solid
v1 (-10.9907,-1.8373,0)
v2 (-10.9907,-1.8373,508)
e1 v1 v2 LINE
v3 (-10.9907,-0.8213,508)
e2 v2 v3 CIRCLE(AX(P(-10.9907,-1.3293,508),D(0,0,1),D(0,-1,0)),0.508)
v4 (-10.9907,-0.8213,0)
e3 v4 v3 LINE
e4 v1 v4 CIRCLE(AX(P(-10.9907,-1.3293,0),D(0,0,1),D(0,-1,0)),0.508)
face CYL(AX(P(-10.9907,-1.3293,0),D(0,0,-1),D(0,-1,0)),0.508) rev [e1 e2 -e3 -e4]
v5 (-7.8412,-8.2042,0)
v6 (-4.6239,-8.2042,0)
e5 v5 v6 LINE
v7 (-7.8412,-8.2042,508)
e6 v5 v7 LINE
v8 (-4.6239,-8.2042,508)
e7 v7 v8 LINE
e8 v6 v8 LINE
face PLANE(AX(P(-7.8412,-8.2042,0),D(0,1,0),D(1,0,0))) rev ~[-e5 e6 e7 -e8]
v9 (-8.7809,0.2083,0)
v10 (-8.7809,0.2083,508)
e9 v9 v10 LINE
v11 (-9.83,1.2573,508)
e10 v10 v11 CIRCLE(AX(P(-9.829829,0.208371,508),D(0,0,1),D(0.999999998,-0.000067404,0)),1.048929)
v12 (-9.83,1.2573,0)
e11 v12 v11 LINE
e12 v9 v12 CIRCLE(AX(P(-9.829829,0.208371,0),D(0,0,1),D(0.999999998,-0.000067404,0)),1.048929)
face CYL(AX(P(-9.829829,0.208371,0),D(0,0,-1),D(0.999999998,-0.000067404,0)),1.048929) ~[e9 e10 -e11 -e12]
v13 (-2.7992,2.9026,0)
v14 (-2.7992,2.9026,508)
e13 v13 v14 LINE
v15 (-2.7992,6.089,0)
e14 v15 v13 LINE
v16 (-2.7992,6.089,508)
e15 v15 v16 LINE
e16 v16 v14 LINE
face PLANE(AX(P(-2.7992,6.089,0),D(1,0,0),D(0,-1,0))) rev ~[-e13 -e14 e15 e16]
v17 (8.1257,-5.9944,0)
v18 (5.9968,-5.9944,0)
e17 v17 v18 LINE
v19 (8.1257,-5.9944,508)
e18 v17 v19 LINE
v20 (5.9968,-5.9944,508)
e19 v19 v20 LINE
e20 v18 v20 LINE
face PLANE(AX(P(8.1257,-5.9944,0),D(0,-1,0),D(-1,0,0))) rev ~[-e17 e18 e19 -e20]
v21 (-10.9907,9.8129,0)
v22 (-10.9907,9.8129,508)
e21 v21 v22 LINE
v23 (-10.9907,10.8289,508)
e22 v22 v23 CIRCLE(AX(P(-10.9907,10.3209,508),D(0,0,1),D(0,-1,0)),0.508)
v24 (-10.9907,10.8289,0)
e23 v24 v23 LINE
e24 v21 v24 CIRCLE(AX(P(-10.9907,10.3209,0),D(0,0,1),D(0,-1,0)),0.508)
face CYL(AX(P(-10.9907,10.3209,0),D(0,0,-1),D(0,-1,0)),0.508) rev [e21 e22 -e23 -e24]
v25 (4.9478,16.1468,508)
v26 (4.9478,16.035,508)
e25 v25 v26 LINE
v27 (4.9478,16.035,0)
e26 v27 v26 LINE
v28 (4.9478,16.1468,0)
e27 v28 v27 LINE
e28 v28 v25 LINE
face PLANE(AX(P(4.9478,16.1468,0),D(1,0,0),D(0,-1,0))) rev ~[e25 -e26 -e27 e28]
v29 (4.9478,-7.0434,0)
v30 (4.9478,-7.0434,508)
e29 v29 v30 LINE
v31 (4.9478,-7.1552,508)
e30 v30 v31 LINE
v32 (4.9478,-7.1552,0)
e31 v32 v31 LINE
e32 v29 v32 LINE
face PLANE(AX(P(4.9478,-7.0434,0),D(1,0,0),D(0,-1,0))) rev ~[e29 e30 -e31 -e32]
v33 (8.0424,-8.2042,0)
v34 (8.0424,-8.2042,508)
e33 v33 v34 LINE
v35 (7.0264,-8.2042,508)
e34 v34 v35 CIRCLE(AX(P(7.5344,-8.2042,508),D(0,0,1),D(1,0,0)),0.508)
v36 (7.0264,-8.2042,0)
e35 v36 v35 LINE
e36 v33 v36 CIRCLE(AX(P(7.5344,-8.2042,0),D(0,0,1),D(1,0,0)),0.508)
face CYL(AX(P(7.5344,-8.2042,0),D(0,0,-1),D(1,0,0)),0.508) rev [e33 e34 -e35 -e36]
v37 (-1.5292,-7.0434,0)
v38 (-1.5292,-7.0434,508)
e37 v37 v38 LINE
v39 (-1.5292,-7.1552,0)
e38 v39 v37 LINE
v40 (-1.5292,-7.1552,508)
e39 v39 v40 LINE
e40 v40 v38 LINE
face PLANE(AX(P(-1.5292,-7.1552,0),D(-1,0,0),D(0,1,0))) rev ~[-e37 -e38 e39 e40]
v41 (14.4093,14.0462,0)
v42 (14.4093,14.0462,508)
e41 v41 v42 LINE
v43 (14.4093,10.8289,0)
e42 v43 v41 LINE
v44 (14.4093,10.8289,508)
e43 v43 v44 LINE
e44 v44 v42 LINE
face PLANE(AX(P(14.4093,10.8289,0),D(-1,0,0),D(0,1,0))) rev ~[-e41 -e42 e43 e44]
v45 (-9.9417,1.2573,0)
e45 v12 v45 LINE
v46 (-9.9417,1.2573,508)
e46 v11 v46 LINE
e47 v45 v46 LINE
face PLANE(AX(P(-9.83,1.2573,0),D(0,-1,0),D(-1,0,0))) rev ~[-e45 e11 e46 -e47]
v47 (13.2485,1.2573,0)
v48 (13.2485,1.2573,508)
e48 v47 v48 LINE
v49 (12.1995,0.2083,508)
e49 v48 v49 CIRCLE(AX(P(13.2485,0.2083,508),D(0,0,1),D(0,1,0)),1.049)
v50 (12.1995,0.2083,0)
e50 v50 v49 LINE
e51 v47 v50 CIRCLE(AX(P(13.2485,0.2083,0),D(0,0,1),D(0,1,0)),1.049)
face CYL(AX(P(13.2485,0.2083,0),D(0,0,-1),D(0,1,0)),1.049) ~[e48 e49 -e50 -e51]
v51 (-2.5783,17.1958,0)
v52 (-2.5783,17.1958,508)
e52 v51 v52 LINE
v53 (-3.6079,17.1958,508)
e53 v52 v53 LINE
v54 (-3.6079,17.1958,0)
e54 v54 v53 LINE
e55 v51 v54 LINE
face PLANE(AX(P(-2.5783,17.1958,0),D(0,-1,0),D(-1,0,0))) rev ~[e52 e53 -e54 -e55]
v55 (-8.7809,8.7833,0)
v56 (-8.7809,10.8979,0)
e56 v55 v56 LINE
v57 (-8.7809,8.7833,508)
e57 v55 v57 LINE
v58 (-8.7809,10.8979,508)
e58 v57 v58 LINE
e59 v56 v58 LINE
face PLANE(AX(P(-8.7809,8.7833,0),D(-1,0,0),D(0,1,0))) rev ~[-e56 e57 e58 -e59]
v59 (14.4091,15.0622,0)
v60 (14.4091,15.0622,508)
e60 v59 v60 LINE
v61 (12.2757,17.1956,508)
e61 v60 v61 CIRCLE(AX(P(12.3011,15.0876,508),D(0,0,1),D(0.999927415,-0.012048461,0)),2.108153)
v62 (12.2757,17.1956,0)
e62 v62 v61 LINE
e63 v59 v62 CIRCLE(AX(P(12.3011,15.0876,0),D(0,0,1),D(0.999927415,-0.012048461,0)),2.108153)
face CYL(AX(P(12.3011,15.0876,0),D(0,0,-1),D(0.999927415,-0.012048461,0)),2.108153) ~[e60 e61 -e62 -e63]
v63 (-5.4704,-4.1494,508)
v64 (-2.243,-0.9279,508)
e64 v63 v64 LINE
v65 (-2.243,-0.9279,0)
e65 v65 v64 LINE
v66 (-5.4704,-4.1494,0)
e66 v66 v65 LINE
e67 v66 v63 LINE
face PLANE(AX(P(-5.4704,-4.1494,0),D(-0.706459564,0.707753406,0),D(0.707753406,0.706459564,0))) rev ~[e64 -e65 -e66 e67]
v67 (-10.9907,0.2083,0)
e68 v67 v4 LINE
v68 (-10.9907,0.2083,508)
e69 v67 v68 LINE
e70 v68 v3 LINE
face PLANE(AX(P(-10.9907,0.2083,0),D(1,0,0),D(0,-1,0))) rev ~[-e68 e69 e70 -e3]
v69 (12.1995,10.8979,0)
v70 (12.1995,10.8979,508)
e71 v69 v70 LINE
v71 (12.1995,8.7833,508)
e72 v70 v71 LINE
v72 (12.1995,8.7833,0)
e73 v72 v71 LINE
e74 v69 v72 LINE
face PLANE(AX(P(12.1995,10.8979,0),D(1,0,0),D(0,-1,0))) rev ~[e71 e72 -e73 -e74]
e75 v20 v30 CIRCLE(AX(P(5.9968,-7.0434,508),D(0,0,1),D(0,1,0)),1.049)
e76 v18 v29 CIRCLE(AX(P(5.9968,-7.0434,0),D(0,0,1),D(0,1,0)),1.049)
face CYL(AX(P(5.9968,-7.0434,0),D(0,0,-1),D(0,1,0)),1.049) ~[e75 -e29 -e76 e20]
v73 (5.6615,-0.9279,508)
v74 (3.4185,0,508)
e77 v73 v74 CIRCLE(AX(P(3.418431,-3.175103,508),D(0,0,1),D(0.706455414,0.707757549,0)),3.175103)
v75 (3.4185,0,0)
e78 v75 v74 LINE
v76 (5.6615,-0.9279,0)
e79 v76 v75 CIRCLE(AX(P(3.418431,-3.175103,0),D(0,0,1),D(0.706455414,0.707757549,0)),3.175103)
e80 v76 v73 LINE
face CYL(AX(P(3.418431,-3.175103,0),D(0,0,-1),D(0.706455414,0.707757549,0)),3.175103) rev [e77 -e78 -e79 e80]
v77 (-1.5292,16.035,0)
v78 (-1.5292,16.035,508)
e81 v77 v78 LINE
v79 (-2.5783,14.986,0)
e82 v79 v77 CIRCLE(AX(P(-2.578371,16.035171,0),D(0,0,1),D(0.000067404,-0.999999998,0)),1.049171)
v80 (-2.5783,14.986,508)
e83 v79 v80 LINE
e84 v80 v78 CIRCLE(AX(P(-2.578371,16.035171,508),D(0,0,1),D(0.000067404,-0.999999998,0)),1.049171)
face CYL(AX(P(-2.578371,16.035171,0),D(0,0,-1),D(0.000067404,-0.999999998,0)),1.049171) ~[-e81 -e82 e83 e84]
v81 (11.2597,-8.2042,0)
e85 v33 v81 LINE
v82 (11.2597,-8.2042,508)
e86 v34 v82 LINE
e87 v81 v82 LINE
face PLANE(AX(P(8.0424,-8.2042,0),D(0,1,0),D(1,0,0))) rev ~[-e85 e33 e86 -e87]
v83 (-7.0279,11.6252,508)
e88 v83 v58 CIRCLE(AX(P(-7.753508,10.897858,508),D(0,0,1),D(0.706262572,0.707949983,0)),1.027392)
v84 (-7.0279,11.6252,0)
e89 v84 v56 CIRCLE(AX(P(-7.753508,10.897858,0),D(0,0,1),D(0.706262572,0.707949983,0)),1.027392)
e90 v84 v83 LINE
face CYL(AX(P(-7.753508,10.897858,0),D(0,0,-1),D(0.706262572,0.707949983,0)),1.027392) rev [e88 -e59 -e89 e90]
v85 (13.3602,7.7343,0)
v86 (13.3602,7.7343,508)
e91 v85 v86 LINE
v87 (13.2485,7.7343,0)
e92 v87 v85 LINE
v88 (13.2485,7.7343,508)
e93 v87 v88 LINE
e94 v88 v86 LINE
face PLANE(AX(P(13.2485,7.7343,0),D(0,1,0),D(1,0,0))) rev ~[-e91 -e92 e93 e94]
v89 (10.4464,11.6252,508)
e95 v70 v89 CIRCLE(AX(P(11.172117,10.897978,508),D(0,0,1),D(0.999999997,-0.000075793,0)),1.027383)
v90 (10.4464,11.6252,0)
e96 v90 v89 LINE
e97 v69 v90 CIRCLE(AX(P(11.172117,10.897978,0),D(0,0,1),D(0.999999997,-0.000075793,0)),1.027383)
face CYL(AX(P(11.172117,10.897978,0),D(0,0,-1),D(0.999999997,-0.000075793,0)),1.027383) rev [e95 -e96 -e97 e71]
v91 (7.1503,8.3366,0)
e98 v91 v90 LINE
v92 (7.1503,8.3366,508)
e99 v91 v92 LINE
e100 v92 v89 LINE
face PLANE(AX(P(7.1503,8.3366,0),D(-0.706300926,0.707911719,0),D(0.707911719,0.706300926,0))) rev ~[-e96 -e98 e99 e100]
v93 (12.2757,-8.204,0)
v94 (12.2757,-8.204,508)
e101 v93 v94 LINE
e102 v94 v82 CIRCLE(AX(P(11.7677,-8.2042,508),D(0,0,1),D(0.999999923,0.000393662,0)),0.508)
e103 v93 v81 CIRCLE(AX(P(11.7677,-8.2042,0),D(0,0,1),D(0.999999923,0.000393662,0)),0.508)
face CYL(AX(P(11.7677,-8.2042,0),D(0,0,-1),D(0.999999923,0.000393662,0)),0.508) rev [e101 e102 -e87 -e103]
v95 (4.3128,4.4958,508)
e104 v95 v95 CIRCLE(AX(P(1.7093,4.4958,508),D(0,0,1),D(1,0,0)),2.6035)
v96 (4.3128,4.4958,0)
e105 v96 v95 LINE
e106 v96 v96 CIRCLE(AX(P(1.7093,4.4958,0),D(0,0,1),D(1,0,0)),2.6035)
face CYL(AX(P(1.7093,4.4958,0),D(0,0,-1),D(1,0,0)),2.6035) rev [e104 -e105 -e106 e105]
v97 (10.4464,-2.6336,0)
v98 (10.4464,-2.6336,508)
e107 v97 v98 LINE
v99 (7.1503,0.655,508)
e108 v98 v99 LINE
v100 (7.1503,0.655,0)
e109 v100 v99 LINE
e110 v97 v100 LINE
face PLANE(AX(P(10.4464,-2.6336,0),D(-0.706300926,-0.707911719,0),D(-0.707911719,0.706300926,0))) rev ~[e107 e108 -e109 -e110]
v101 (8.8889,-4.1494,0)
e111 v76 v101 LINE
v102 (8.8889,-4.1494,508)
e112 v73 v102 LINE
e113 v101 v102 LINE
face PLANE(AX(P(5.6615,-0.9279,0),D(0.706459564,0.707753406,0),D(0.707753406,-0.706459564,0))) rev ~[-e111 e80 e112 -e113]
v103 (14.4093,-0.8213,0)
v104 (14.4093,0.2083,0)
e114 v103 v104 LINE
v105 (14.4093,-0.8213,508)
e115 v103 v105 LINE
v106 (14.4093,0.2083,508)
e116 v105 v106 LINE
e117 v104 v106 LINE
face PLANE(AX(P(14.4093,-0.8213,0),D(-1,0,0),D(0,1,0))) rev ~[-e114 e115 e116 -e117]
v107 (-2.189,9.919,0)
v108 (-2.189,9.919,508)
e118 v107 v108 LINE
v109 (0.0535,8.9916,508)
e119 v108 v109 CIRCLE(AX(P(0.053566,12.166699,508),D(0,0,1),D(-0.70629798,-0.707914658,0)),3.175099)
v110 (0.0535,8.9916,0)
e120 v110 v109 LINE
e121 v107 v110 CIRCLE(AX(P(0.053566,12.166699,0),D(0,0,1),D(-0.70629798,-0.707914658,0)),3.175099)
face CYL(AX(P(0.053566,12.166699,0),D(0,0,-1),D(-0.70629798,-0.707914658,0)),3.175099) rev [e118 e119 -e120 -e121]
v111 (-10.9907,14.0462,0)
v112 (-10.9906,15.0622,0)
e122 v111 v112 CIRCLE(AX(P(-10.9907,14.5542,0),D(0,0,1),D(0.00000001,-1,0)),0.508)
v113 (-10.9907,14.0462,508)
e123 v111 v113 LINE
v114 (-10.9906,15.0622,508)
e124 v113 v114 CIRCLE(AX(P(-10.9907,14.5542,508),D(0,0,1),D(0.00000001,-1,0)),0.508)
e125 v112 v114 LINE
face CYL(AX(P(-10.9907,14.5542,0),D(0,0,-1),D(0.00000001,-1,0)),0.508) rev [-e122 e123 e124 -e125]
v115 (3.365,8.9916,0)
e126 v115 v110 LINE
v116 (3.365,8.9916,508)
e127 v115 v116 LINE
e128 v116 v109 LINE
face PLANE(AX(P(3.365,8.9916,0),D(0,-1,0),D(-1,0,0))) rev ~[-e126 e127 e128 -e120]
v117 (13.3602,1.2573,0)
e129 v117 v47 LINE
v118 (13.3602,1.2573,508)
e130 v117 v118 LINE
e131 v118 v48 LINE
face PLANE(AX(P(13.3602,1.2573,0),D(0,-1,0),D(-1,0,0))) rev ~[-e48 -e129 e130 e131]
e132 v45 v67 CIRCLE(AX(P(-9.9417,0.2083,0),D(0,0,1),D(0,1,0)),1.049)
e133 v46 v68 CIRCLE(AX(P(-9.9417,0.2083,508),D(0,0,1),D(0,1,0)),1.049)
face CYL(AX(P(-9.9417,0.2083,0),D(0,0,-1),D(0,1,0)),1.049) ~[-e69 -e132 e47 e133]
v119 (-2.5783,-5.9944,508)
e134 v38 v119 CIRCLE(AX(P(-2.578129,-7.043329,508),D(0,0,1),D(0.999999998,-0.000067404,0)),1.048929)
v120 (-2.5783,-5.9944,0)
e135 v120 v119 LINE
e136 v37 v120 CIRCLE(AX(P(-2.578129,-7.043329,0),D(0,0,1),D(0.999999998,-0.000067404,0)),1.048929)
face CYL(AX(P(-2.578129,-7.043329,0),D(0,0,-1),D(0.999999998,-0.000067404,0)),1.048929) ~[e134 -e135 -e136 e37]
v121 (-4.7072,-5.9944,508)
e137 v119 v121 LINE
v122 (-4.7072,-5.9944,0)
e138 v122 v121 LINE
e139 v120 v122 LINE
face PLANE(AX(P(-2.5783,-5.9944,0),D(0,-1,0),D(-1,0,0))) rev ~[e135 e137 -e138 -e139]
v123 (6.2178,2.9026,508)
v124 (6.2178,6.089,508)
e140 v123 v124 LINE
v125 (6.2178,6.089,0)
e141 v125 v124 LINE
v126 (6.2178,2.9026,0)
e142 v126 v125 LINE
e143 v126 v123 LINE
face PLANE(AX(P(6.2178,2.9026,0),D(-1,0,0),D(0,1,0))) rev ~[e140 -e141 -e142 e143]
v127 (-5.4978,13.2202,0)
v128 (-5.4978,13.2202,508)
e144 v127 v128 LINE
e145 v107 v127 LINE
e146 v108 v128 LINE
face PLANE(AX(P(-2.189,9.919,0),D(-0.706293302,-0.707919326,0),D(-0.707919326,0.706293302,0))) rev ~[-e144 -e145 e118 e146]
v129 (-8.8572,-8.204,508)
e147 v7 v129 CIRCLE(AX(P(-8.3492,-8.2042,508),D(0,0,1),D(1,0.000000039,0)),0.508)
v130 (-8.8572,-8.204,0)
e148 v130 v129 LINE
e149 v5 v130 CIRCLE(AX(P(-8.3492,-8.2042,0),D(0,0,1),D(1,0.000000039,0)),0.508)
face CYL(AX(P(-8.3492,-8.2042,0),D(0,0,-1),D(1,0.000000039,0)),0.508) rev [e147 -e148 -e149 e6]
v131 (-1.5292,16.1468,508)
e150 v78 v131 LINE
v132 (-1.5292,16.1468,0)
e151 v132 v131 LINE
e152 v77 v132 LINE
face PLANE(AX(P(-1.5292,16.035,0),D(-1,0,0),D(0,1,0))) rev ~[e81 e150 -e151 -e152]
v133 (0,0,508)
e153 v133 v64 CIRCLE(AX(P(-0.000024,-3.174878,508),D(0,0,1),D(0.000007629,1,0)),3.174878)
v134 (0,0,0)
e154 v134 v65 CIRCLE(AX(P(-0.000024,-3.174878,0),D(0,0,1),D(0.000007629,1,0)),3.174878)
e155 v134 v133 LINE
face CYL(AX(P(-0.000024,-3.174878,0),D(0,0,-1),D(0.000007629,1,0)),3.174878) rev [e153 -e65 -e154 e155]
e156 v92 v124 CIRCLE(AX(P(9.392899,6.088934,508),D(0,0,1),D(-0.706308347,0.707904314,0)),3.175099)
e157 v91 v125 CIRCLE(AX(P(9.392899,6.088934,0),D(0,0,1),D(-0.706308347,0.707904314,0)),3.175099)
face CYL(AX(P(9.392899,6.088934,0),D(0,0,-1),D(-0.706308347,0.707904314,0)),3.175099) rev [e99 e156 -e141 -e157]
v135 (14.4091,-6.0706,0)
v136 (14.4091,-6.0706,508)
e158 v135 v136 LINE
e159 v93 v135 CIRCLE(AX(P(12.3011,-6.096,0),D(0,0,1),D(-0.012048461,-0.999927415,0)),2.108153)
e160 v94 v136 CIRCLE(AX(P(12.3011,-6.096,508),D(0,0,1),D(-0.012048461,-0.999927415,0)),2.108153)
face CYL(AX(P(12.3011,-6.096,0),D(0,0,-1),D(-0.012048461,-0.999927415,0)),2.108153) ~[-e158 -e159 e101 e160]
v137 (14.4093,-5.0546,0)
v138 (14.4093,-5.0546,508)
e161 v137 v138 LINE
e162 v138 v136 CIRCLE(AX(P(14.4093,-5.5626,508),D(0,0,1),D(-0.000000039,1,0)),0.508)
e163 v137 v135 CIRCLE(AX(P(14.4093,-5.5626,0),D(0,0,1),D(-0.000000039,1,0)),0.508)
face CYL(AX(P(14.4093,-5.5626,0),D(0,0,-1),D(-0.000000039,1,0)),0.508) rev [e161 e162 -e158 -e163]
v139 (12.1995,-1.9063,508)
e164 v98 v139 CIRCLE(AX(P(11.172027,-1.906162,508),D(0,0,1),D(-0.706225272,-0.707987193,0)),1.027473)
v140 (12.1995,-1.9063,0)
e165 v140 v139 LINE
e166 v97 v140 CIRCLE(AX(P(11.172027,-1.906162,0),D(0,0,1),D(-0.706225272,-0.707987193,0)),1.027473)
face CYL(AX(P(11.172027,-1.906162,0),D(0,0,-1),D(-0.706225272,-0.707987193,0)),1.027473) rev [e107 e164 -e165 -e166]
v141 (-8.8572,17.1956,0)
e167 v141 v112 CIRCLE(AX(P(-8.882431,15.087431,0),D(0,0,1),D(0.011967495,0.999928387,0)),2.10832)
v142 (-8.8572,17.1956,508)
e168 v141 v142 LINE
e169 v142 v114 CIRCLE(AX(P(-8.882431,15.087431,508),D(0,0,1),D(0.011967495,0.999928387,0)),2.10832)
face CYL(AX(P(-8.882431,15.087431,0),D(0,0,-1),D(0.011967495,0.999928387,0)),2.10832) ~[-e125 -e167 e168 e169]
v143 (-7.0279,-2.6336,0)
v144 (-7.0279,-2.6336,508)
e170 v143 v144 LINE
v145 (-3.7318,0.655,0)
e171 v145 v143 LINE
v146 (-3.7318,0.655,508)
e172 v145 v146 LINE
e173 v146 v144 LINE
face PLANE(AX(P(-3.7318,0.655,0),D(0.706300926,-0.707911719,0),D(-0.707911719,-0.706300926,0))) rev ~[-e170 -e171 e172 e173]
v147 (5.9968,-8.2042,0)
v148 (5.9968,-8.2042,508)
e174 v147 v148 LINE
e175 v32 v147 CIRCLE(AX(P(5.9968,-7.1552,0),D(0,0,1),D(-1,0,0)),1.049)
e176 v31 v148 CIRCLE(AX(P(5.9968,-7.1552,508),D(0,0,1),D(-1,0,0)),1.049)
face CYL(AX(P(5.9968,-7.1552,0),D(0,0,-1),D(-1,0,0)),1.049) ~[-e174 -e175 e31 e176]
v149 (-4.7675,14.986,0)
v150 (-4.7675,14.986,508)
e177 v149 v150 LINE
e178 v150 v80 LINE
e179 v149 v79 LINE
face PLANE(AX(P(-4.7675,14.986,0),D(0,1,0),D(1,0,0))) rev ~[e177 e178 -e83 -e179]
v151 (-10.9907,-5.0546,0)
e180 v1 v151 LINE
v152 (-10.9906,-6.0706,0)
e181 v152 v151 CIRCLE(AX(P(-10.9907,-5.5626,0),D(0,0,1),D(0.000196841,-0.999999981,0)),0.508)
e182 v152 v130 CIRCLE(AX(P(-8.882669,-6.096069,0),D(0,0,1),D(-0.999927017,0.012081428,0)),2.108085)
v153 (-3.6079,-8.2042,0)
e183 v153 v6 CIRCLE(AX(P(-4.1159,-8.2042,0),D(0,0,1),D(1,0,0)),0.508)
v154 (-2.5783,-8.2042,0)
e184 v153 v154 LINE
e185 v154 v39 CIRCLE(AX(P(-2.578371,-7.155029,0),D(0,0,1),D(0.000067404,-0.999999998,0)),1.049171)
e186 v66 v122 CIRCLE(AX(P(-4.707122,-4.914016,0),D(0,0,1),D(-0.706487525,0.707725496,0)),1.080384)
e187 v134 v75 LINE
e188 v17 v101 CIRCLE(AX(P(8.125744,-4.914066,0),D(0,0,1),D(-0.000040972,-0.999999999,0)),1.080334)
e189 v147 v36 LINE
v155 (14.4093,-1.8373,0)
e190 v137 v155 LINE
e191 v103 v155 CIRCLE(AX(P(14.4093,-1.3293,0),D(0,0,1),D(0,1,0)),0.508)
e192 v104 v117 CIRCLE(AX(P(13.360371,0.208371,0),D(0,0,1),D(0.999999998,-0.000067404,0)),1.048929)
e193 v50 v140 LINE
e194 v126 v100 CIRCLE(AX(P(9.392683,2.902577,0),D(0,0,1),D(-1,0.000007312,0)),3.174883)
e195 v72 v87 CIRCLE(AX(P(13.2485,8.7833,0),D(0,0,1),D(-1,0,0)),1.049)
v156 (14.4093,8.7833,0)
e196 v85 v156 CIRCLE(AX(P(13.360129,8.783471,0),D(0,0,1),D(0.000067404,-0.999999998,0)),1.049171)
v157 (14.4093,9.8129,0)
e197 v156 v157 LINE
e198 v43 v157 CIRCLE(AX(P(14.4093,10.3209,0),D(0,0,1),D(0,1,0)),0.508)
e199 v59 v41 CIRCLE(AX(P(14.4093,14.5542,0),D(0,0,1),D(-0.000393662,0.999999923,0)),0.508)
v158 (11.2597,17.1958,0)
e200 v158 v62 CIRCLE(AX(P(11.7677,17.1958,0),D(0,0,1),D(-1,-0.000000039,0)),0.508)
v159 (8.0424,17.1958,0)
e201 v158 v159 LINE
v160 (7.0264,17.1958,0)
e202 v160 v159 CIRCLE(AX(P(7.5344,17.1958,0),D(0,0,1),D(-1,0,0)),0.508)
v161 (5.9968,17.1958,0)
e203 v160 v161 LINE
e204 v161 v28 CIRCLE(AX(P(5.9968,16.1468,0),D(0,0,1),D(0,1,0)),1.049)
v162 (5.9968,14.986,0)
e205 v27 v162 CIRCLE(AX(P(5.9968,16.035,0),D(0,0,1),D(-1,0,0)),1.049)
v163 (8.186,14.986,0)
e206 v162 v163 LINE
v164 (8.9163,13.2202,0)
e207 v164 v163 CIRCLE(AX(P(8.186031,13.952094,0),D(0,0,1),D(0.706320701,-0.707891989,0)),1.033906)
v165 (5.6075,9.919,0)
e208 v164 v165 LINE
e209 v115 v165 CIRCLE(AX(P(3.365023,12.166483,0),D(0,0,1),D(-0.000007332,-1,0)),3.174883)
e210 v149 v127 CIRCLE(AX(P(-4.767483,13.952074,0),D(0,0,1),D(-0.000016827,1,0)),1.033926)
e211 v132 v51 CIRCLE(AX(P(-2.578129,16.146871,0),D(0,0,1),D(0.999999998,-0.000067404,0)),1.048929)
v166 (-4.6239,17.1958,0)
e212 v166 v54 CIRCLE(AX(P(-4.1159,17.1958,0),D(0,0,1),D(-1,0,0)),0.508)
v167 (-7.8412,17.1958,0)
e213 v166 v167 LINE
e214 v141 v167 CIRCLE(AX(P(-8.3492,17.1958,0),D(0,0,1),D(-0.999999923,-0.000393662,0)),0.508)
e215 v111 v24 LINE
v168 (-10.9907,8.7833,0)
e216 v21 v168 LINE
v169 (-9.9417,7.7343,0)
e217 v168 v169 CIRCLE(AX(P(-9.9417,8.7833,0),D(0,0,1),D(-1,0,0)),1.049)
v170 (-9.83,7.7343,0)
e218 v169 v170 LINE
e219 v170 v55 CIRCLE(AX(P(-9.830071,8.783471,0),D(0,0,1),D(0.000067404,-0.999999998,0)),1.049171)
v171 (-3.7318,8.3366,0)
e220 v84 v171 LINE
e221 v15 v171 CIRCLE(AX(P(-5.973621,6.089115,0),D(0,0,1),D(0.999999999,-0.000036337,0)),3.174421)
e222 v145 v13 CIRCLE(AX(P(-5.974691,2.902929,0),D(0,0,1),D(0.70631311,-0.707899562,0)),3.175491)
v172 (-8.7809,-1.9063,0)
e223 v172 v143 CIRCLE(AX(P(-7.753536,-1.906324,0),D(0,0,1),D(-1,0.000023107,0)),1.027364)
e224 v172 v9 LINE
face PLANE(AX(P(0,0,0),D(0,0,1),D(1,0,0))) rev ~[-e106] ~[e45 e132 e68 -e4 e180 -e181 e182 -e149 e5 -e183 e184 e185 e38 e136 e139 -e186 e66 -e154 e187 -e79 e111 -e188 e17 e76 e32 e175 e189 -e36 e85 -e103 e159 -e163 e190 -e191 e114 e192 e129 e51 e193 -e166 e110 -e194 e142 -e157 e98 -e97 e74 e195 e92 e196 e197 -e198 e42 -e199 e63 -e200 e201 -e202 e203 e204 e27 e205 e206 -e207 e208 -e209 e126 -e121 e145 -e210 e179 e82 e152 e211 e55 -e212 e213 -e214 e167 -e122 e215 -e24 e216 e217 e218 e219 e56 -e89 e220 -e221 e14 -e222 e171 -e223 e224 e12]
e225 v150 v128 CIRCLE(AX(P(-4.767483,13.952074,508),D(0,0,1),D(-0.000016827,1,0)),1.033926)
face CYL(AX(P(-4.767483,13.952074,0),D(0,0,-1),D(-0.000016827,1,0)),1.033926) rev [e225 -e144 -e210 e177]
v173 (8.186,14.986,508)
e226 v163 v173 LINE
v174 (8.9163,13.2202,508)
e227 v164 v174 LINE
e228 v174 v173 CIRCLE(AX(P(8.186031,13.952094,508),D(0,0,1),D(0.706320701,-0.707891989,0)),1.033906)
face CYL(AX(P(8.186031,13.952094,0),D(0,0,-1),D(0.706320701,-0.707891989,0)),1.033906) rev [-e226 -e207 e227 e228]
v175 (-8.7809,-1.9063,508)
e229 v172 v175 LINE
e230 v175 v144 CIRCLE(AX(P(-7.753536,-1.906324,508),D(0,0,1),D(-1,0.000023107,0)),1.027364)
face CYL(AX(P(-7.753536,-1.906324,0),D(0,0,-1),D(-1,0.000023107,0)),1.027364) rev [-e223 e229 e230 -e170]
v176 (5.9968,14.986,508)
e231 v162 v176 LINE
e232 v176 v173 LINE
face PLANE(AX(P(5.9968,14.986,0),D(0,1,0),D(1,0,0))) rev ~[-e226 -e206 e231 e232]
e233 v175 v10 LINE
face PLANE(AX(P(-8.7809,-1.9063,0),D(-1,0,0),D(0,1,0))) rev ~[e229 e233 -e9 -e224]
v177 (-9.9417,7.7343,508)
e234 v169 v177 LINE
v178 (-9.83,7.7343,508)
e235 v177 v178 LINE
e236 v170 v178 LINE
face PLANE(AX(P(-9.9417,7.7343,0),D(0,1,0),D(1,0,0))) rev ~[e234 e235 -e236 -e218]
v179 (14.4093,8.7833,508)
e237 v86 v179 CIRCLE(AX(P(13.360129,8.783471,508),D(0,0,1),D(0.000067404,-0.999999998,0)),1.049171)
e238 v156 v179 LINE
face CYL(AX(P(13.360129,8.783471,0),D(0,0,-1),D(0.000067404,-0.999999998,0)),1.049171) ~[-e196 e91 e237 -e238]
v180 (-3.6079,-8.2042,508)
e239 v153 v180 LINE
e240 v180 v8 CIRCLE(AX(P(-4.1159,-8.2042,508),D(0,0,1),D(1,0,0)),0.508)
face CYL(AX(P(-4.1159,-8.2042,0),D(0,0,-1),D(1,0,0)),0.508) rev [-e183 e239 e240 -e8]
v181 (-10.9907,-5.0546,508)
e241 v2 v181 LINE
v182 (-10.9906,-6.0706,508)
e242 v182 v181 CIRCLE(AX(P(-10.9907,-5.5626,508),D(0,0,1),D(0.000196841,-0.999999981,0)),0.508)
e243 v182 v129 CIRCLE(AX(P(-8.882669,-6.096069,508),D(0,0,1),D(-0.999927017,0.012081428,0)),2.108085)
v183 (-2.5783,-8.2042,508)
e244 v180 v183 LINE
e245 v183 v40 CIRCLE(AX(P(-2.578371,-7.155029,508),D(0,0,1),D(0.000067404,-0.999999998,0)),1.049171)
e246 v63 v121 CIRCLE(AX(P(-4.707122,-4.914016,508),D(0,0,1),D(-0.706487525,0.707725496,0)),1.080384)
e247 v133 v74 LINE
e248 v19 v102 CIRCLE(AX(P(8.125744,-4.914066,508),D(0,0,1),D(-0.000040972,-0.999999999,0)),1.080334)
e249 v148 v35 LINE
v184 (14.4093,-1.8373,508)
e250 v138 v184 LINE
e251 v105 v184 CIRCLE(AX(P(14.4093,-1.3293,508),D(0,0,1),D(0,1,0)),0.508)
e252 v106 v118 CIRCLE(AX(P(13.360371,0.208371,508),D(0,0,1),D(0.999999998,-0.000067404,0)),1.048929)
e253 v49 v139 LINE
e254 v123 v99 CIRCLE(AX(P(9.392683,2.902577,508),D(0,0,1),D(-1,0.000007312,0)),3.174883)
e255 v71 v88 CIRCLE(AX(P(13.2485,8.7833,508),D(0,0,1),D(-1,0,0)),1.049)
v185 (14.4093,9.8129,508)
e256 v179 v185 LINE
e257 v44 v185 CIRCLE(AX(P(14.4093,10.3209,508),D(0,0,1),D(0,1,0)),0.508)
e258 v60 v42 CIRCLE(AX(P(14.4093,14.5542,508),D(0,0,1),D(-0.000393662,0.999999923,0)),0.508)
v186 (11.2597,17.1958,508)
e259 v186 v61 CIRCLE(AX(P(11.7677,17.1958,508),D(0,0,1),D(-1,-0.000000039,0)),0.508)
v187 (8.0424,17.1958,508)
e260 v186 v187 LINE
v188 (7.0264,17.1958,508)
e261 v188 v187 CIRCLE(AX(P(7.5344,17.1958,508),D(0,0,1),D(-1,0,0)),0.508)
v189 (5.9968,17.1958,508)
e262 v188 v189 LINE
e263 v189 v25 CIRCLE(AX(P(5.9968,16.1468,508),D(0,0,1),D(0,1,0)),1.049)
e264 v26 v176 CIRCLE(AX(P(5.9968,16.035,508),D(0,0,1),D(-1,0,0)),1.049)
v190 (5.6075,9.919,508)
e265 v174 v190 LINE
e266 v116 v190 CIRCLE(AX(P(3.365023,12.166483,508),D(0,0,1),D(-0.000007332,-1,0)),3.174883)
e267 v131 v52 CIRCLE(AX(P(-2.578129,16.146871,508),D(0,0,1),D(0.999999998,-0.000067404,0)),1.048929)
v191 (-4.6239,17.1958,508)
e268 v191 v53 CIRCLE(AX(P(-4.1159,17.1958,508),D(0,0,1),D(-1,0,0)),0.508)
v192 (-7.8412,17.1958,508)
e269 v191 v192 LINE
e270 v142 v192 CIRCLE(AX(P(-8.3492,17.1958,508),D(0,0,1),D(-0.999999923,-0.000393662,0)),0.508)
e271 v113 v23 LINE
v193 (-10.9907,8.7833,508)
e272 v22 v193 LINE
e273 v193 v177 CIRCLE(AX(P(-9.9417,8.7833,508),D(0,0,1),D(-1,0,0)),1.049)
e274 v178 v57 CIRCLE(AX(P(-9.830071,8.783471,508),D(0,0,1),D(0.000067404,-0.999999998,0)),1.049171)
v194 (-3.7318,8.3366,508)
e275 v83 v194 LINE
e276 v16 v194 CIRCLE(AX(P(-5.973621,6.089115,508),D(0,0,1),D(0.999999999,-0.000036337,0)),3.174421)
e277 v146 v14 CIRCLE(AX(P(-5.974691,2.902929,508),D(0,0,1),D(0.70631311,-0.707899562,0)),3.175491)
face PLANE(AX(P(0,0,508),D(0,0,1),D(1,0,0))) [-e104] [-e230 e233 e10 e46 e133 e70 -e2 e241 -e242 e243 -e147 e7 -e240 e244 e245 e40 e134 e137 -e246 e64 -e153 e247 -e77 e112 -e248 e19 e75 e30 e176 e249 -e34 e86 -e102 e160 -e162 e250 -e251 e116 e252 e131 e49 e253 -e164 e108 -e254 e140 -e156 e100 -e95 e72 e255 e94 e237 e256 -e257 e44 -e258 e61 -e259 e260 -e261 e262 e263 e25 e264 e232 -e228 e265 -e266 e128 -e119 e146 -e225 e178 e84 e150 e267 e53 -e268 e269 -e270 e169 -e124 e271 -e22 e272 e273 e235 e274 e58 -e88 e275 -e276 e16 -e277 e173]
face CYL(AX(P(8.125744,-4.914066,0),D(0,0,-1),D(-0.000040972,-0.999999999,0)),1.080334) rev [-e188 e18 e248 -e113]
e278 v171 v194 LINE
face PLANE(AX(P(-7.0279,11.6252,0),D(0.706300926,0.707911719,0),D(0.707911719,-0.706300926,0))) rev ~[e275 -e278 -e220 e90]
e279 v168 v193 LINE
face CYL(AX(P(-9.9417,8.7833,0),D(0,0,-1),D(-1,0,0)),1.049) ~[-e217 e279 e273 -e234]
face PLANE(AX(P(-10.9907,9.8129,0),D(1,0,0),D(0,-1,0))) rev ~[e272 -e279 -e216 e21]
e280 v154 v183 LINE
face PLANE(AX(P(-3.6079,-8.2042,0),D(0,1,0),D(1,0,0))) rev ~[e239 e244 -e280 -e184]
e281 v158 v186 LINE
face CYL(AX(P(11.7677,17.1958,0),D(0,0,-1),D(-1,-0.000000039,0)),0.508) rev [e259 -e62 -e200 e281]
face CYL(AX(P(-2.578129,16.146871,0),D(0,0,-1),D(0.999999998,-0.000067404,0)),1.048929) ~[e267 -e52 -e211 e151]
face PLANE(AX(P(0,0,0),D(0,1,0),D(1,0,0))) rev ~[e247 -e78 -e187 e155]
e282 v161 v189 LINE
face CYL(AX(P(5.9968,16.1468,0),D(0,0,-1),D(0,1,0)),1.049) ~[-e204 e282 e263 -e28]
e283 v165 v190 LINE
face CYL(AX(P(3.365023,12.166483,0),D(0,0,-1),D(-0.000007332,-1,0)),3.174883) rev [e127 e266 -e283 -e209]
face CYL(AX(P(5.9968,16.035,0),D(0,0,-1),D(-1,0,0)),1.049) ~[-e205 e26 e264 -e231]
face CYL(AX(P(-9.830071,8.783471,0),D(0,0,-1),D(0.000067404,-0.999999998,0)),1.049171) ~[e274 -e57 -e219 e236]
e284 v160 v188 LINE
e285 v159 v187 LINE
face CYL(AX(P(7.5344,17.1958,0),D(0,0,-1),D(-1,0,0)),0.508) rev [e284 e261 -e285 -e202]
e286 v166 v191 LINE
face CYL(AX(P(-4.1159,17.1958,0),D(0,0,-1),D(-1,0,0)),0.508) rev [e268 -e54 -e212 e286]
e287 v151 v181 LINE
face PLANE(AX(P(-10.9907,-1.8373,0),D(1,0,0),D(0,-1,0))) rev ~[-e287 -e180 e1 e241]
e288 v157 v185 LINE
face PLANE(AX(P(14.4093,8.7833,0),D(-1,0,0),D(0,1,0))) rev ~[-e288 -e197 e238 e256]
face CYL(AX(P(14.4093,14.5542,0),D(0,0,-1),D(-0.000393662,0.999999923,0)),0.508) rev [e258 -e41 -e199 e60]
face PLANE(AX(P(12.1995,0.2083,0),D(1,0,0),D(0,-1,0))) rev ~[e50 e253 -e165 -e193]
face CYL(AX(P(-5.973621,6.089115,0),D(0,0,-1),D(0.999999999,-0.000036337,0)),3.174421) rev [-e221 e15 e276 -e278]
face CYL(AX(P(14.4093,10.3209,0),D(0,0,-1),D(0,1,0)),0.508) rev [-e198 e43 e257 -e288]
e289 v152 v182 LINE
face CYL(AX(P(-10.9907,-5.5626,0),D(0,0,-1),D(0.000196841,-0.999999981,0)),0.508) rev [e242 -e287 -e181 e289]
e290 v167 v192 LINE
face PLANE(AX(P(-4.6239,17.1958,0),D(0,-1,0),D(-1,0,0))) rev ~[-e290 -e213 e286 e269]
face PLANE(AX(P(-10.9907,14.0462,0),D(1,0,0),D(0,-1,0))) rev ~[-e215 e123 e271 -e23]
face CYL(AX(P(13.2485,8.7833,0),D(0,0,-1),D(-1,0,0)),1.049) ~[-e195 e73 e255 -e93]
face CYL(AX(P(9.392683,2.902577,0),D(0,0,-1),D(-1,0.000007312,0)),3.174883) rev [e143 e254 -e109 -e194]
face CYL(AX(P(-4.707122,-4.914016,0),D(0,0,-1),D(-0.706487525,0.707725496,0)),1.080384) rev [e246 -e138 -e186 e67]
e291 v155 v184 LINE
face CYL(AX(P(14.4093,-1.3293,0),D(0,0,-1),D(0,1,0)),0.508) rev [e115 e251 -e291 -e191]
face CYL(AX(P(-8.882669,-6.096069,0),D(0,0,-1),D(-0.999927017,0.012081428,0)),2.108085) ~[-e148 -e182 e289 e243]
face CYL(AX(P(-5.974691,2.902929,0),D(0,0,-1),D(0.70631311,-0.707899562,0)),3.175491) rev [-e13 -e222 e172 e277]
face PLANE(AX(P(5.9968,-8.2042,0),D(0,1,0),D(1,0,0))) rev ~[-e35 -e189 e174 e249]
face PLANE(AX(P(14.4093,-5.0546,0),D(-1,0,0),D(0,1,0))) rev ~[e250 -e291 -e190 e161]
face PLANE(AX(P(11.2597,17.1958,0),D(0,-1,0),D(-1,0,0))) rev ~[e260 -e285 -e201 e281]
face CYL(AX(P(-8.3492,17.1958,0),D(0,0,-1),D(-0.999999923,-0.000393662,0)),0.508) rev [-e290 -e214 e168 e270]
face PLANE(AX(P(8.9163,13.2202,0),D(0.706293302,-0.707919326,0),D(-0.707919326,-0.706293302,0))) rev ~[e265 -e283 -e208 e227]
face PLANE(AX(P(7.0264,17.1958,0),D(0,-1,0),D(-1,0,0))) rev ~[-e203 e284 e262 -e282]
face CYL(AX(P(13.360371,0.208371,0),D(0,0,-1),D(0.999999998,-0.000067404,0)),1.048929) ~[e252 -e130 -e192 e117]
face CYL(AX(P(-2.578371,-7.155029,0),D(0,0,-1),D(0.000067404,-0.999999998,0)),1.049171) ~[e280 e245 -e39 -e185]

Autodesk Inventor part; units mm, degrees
ref_plane "YZ Plane" through (0, 0, 0) normal (1, 0, 0) x (0, 1, 0)
ref_plane "XZ Plane" through (0, 0, 0) normal (0, 1, 0) x (-1, 0, 0)
ref_plane "XY Plane" through (0, 0, 0) normal (0, 0, 1) x (1, 0, 0)
sketch "Sketch1" plane through (0, 0, 0) normal (0, 0, 1) x (1, 0, 0)
  arc A0 (-5.4704, -4.1494) -> (-4.7072, -5.9944) centre (-4.7072, -4.914) ccw
  line L0 (-5.4704, -4.1494) -> (-2.243, -0.9279)
  arc A1 (0, 0) -> (-2.243, -0.9279) centre (0, -3.175) ccw
  line L1 (0, 0) -> (3.4185, 0)
  arc A2 (5.6615, -0.9279) -> (3.4185, 0) centre (3.4185, -3.175) ccw
  line L2 (5.6615, -0.9279) -> (8.8889, -4.1494)
  arc A3 (8.1257, -5.9944) -> (8.8889, -4.1494) centre (8.1257, -4.914) ccw
  line L3 (8.1257, -5.9944) -> (5.9968, -5.9944)
  arc A4 (5.9968, -5.9944) -> (4.9478, -7.0434) centre (5.9968, -7.0434) ccw
  line L4 (4.9478, -7.0434) -> (4.9478, -7.1552)
  arc A5 (4.9478, -7.1552) -> (5.9968, -8.2042) centre (5.9968, -7.1552) ccw
  line L5 (5.9968, -8.2042) -> (7.0264, -8.2042)
  arc A6 (8.0424, -8.2042) -> (7.0264, -8.2042) centre (7.5344, -8.2042) ccw
  line L6 (8.0424, -8.2042) -> (11.2597, -8.2042)
  arc A7 (12.2757, -8.204) -> (11.2597, -8.2042) centre (11.7677, -8.2042) ccw
  arc A8 (12.2757, -8.204) -> (14.4091, -6.0706) centre (12.3011, -6.096) ccw
  arc A9 (14.4093, -5.0546) -> (14.4091, -6.0706) centre (14.4093, -5.5626) ccw
  line L7 (14.4093, -5.0546) -> (14.4093, -1.8373)
  arc A10 (14.4093, -0.8213) -> (14.4093, -1.8373) centre (14.4093, -1.3293) ccw
  line L8 (14.4093, -0.8213) -> (14.4093, 0.2083)
  arc A11 (14.4093, 0.2083) -> (13.3602, 1.2573) centre (13.3602, 0.2083) ccw
  line L9 (13.3602, 1.2573) -> (13.2485, 1.2573)
  arc A12 (13.2485, 1.2573) -> (12.1995, 0.2083) centre (13.2485, 0.2083) ccw
  line L10 (12.1995, 0.2083) -> (12.1995, -1.9063)
  arc A13 (10.4464, -2.6336) -> (12.1995, -1.9063) centre (11.172, -1.9063) ccw
  line L11 (10.4464, -2.6336) -> (7.1503, 0.655)
  arc A14 (6.2178, 2.9026) -> (7.1503, 0.655) centre (9.3928, 2.9026) ccw
  line L12 (6.2178, 2.9026) -> (6.2178, 6.089)
  arc A15 (7.1503, 8.3366) -> (6.2178, 6.089) centre (9.3928, 6.089) ccw
  line L13 (7.1503, 8.3366) -> (10.4464, 11.6252)
  arc A16 (12.1995, 10.8979) -> (10.4464, 11.6252) centre (11.172, 10.8979) ccw
  line L14 (12.1995, 10.8979) -> (12.1995, 8.7833)
  arc A17 (12.1995, 8.7833) -> (13.2485, 7.7343) centre (13.2485, 8.7833) ccw
  line L15 (13.2485, 7.7343) -> (13.3602, 7.7343)
  arc A18 (13.3602, 7.7343) -> (14.4093, 8.7833) centre (13.3602, 8.7833) ccw
  line L16 (14.4093, 8.7833) -> (14.4093, 9.8129)
  arc A19 (14.4093, 10.8289) -> (14.4093, 9.8129) centre (14.4093, 10.3209) ccw
  line L17 (14.4093, 10.8289) -> (14.4093, 14.0462)
  arc A20 (14.4091, 15.0622) -> (14.4093, 14.0462) centre (14.4093, 14.5542) ccw
  arc A21 (14.4091, 15.0622) -> (12.2757, 17.1956) centre (12.3011, 15.0876) ccw
  arc A22 (11.2597, 17.1958) -> (12.2757, 17.1956) centre (11.7677, 17.1958) ccw
  line L18 (11.2597, 17.1958) -> (8.0424, 17.1958)
  arc A23 (7.0264, 17.1958) -> (8.0424, 17.1958) centre (7.5344, 17.1958) ccw
  line L19 (7.0264, 17.1958) -> (5.9968, 17.1958)
  arc A24 (5.9968, 17.1958) -> (4.9478, 16.1468) centre (5.9968, 16.1468) ccw
  line L20 (4.9478, 16.1468) -> (4.9478, 16.035)
  arc A25 (4.9478, 16.035) -> (5.9968, 14.986) centre (5.9968, 16.035) ccw
  line L21 (5.9968, 14.986) -> (8.186, 14.986)
  arc A26 (8.9163, 13.2202) -> (8.186, 14.986) centre (8.186, 13.9521) ccw
  line L22 (8.9163, 13.2202) -> (5.6075, 9.919)
  arc A27 (3.365, 8.9916) -> (5.6075, 9.919) centre (3.365, 12.1666) ccw
  line L23 (3.365, 8.9916) -> (0.0535, 8.9916)
  arc A28 (-2.189, 9.919) -> (0.0535, 8.9916) centre (0.0535, 12.1666) ccw
  line L24 (-2.189, 9.919) -> (-5.4978, 13.2202)
  arc A29 (-4.7675, 14.986) -> (-5.4978, 13.2202) centre (-4.7675, 13.9521) ccw
  line L25 (-4.7675, 14.986) -> (-2.5783, 14.986)
  arc A30 (-2.5783, 14.986) -> (-1.5292, 16.035) centre (-2.5783, 16.035) ccw
  line L26 (-1.5292, 16.035) -> (-1.5292, 16.1468)
  arc A31 (-1.5292, 16.1468) -> (-2.5783, 17.1958) centre (-2.5783, 16.1468) ccw
  line L27 (-2.5783, 17.1958) -> (-3.6079, 17.1958)
  arc A32 (-4.6239, 17.1958) -> (-3.6079, 17.1958) centre (-4.1159, 17.1958) ccw
  line L28 (-4.6239, 17.1958) -> (-7.8412, 17.1958)
  arc A33 (-8.8572, 17.1956) -> (-7.8412, 17.1958) centre (-8.3492, 17.1958) ccw
  arc A34 (-8.8572, 17.1956) -> (-10.9906, 15.0622) centre (-8.8825, 15.0876) ccw
  arc A35 (-10.9907, 14.0462) -> (-10.9906, 15.0622) centre (-10.9907, 14.5542) ccw
  line L29 (-10.9907, 14.0462) -> (-10.9907, 10.8289)
  arc A36 (-10.9907, 9.8129) -> (-10.9907, 10.8289) centre (-10.9907, 10.3209) ccw
  line L30 (-10.9907, 9.8129) -> (-10.9907, 8.7833)
  arc A37 (-10.9907, 8.7833) -> (-9.9417, 7.7343) centre (-9.9417, 8.7833) ccw
  line L31 (-9.9417, 7.7343) -> (-9.83, 7.7343)
  arc A38 (-9.83, 7.7343) -> (-8.7809, 8.7833) centre (-9.83, 8.7833) ccw
  line L32 (-8.7809, 8.7833) -> (-8.7809, 10.8979)
  arc A39 (-7.0279, 11.6252) -> (-8.7809, 10.8979) centre (-7.7535, 10.8979) ccw
  line L33 (-7.0279, 11.6252) -> (-3.7318, 8.3366)
  arc A40 (-2.7992, 6.089) -> (-3.7318, 8.3366) centre (-5.9742, 6.089) ccw
  line L34 (-2.7992, 6.089) -> (-2.7992, 2.9026)
  arc A41 (-3.7318, 0.655) -> (-2.7992, 2.9026) centre (-5.9742, 2.9026) ccw
  line L35 (-3.7318, 0.655) -> (-7.0279, -2.6336)
  arc A42 (-8.7809, -1.9063) -> (-7.0279, -2.6336) centre (-7.7535, -1.9063) ccw
  line L36 (-8.7809, -1.9063) -> (-8.7809, 0.2083)
  arc A43 (-8.7809, 0.2083) -> (-9.83, 1.2573) centre (-9.83, 0.2083) ccw
  line L37 (-9.83, 1.2573) -> (-9.9417, 1.2573)
  arc A44 (-9.9417, 1.2573) -> (-10.9907, 0.2083) centre (-9.9417, 0.2083) ccw
  line L38 (-10.9907, 0.2083) -> (-10.9907, -0.8213)
  arc A45 (-10.9907, -1.8373) -> (-10.9907, -0.8213) centre (-10.9907, -1.3293) ccw
  line L39 (-10.9907, -1.8373) -> (-10.9907, -5.0546)
  arc A46 (-10.9906, -6.0706) -> (-10.9907, -5.0546) centre (-10.9907, -5.5626) ccw
  arc A47 (-10.9906, -6.0706) -> (-8.8572, -8.204) centre (-8.8825, -6.096) ccw
  arc A48 (-7.8412, -8.2042) -> (-8.8572, -8.204) centre (-8.3492, -8.2042) ccw
  line L40 (-7.8412, -8.2042) -> (-4.6239, -8.2042)
  arc A49 (-3.6079, -8.2042) -> (-4.6239, -8.2042) centre (-4.1159, -8.2042) ccw
  line L41 (-3.6079, -8.2042) -> (-2.5783, -8.2042)
  arc A50 (-2.5783, -8.2042) -> (-1.5292, -7.1552) centre (-2.5783, -7.1552) ccw
  line L42 (-1.5292, -7.1552) -> (-1.5292, -7.0434)
  arc A51 (-1.5292, -7.0434) -> (-2.5783, -5.9944) centre (-2.5783, -7.0434) ccw
  line L43 (-2.5783, -5.9944) -> (-4.7072, -5.9944)
  circle A52 centre (1.7093, 4.4958) radius 2.6035
extrude "Extrusion1" add sketch "Sketch1" along normal blind 508
properties part number "20 in 1x1 T slot" material "Steel, Alloy"
